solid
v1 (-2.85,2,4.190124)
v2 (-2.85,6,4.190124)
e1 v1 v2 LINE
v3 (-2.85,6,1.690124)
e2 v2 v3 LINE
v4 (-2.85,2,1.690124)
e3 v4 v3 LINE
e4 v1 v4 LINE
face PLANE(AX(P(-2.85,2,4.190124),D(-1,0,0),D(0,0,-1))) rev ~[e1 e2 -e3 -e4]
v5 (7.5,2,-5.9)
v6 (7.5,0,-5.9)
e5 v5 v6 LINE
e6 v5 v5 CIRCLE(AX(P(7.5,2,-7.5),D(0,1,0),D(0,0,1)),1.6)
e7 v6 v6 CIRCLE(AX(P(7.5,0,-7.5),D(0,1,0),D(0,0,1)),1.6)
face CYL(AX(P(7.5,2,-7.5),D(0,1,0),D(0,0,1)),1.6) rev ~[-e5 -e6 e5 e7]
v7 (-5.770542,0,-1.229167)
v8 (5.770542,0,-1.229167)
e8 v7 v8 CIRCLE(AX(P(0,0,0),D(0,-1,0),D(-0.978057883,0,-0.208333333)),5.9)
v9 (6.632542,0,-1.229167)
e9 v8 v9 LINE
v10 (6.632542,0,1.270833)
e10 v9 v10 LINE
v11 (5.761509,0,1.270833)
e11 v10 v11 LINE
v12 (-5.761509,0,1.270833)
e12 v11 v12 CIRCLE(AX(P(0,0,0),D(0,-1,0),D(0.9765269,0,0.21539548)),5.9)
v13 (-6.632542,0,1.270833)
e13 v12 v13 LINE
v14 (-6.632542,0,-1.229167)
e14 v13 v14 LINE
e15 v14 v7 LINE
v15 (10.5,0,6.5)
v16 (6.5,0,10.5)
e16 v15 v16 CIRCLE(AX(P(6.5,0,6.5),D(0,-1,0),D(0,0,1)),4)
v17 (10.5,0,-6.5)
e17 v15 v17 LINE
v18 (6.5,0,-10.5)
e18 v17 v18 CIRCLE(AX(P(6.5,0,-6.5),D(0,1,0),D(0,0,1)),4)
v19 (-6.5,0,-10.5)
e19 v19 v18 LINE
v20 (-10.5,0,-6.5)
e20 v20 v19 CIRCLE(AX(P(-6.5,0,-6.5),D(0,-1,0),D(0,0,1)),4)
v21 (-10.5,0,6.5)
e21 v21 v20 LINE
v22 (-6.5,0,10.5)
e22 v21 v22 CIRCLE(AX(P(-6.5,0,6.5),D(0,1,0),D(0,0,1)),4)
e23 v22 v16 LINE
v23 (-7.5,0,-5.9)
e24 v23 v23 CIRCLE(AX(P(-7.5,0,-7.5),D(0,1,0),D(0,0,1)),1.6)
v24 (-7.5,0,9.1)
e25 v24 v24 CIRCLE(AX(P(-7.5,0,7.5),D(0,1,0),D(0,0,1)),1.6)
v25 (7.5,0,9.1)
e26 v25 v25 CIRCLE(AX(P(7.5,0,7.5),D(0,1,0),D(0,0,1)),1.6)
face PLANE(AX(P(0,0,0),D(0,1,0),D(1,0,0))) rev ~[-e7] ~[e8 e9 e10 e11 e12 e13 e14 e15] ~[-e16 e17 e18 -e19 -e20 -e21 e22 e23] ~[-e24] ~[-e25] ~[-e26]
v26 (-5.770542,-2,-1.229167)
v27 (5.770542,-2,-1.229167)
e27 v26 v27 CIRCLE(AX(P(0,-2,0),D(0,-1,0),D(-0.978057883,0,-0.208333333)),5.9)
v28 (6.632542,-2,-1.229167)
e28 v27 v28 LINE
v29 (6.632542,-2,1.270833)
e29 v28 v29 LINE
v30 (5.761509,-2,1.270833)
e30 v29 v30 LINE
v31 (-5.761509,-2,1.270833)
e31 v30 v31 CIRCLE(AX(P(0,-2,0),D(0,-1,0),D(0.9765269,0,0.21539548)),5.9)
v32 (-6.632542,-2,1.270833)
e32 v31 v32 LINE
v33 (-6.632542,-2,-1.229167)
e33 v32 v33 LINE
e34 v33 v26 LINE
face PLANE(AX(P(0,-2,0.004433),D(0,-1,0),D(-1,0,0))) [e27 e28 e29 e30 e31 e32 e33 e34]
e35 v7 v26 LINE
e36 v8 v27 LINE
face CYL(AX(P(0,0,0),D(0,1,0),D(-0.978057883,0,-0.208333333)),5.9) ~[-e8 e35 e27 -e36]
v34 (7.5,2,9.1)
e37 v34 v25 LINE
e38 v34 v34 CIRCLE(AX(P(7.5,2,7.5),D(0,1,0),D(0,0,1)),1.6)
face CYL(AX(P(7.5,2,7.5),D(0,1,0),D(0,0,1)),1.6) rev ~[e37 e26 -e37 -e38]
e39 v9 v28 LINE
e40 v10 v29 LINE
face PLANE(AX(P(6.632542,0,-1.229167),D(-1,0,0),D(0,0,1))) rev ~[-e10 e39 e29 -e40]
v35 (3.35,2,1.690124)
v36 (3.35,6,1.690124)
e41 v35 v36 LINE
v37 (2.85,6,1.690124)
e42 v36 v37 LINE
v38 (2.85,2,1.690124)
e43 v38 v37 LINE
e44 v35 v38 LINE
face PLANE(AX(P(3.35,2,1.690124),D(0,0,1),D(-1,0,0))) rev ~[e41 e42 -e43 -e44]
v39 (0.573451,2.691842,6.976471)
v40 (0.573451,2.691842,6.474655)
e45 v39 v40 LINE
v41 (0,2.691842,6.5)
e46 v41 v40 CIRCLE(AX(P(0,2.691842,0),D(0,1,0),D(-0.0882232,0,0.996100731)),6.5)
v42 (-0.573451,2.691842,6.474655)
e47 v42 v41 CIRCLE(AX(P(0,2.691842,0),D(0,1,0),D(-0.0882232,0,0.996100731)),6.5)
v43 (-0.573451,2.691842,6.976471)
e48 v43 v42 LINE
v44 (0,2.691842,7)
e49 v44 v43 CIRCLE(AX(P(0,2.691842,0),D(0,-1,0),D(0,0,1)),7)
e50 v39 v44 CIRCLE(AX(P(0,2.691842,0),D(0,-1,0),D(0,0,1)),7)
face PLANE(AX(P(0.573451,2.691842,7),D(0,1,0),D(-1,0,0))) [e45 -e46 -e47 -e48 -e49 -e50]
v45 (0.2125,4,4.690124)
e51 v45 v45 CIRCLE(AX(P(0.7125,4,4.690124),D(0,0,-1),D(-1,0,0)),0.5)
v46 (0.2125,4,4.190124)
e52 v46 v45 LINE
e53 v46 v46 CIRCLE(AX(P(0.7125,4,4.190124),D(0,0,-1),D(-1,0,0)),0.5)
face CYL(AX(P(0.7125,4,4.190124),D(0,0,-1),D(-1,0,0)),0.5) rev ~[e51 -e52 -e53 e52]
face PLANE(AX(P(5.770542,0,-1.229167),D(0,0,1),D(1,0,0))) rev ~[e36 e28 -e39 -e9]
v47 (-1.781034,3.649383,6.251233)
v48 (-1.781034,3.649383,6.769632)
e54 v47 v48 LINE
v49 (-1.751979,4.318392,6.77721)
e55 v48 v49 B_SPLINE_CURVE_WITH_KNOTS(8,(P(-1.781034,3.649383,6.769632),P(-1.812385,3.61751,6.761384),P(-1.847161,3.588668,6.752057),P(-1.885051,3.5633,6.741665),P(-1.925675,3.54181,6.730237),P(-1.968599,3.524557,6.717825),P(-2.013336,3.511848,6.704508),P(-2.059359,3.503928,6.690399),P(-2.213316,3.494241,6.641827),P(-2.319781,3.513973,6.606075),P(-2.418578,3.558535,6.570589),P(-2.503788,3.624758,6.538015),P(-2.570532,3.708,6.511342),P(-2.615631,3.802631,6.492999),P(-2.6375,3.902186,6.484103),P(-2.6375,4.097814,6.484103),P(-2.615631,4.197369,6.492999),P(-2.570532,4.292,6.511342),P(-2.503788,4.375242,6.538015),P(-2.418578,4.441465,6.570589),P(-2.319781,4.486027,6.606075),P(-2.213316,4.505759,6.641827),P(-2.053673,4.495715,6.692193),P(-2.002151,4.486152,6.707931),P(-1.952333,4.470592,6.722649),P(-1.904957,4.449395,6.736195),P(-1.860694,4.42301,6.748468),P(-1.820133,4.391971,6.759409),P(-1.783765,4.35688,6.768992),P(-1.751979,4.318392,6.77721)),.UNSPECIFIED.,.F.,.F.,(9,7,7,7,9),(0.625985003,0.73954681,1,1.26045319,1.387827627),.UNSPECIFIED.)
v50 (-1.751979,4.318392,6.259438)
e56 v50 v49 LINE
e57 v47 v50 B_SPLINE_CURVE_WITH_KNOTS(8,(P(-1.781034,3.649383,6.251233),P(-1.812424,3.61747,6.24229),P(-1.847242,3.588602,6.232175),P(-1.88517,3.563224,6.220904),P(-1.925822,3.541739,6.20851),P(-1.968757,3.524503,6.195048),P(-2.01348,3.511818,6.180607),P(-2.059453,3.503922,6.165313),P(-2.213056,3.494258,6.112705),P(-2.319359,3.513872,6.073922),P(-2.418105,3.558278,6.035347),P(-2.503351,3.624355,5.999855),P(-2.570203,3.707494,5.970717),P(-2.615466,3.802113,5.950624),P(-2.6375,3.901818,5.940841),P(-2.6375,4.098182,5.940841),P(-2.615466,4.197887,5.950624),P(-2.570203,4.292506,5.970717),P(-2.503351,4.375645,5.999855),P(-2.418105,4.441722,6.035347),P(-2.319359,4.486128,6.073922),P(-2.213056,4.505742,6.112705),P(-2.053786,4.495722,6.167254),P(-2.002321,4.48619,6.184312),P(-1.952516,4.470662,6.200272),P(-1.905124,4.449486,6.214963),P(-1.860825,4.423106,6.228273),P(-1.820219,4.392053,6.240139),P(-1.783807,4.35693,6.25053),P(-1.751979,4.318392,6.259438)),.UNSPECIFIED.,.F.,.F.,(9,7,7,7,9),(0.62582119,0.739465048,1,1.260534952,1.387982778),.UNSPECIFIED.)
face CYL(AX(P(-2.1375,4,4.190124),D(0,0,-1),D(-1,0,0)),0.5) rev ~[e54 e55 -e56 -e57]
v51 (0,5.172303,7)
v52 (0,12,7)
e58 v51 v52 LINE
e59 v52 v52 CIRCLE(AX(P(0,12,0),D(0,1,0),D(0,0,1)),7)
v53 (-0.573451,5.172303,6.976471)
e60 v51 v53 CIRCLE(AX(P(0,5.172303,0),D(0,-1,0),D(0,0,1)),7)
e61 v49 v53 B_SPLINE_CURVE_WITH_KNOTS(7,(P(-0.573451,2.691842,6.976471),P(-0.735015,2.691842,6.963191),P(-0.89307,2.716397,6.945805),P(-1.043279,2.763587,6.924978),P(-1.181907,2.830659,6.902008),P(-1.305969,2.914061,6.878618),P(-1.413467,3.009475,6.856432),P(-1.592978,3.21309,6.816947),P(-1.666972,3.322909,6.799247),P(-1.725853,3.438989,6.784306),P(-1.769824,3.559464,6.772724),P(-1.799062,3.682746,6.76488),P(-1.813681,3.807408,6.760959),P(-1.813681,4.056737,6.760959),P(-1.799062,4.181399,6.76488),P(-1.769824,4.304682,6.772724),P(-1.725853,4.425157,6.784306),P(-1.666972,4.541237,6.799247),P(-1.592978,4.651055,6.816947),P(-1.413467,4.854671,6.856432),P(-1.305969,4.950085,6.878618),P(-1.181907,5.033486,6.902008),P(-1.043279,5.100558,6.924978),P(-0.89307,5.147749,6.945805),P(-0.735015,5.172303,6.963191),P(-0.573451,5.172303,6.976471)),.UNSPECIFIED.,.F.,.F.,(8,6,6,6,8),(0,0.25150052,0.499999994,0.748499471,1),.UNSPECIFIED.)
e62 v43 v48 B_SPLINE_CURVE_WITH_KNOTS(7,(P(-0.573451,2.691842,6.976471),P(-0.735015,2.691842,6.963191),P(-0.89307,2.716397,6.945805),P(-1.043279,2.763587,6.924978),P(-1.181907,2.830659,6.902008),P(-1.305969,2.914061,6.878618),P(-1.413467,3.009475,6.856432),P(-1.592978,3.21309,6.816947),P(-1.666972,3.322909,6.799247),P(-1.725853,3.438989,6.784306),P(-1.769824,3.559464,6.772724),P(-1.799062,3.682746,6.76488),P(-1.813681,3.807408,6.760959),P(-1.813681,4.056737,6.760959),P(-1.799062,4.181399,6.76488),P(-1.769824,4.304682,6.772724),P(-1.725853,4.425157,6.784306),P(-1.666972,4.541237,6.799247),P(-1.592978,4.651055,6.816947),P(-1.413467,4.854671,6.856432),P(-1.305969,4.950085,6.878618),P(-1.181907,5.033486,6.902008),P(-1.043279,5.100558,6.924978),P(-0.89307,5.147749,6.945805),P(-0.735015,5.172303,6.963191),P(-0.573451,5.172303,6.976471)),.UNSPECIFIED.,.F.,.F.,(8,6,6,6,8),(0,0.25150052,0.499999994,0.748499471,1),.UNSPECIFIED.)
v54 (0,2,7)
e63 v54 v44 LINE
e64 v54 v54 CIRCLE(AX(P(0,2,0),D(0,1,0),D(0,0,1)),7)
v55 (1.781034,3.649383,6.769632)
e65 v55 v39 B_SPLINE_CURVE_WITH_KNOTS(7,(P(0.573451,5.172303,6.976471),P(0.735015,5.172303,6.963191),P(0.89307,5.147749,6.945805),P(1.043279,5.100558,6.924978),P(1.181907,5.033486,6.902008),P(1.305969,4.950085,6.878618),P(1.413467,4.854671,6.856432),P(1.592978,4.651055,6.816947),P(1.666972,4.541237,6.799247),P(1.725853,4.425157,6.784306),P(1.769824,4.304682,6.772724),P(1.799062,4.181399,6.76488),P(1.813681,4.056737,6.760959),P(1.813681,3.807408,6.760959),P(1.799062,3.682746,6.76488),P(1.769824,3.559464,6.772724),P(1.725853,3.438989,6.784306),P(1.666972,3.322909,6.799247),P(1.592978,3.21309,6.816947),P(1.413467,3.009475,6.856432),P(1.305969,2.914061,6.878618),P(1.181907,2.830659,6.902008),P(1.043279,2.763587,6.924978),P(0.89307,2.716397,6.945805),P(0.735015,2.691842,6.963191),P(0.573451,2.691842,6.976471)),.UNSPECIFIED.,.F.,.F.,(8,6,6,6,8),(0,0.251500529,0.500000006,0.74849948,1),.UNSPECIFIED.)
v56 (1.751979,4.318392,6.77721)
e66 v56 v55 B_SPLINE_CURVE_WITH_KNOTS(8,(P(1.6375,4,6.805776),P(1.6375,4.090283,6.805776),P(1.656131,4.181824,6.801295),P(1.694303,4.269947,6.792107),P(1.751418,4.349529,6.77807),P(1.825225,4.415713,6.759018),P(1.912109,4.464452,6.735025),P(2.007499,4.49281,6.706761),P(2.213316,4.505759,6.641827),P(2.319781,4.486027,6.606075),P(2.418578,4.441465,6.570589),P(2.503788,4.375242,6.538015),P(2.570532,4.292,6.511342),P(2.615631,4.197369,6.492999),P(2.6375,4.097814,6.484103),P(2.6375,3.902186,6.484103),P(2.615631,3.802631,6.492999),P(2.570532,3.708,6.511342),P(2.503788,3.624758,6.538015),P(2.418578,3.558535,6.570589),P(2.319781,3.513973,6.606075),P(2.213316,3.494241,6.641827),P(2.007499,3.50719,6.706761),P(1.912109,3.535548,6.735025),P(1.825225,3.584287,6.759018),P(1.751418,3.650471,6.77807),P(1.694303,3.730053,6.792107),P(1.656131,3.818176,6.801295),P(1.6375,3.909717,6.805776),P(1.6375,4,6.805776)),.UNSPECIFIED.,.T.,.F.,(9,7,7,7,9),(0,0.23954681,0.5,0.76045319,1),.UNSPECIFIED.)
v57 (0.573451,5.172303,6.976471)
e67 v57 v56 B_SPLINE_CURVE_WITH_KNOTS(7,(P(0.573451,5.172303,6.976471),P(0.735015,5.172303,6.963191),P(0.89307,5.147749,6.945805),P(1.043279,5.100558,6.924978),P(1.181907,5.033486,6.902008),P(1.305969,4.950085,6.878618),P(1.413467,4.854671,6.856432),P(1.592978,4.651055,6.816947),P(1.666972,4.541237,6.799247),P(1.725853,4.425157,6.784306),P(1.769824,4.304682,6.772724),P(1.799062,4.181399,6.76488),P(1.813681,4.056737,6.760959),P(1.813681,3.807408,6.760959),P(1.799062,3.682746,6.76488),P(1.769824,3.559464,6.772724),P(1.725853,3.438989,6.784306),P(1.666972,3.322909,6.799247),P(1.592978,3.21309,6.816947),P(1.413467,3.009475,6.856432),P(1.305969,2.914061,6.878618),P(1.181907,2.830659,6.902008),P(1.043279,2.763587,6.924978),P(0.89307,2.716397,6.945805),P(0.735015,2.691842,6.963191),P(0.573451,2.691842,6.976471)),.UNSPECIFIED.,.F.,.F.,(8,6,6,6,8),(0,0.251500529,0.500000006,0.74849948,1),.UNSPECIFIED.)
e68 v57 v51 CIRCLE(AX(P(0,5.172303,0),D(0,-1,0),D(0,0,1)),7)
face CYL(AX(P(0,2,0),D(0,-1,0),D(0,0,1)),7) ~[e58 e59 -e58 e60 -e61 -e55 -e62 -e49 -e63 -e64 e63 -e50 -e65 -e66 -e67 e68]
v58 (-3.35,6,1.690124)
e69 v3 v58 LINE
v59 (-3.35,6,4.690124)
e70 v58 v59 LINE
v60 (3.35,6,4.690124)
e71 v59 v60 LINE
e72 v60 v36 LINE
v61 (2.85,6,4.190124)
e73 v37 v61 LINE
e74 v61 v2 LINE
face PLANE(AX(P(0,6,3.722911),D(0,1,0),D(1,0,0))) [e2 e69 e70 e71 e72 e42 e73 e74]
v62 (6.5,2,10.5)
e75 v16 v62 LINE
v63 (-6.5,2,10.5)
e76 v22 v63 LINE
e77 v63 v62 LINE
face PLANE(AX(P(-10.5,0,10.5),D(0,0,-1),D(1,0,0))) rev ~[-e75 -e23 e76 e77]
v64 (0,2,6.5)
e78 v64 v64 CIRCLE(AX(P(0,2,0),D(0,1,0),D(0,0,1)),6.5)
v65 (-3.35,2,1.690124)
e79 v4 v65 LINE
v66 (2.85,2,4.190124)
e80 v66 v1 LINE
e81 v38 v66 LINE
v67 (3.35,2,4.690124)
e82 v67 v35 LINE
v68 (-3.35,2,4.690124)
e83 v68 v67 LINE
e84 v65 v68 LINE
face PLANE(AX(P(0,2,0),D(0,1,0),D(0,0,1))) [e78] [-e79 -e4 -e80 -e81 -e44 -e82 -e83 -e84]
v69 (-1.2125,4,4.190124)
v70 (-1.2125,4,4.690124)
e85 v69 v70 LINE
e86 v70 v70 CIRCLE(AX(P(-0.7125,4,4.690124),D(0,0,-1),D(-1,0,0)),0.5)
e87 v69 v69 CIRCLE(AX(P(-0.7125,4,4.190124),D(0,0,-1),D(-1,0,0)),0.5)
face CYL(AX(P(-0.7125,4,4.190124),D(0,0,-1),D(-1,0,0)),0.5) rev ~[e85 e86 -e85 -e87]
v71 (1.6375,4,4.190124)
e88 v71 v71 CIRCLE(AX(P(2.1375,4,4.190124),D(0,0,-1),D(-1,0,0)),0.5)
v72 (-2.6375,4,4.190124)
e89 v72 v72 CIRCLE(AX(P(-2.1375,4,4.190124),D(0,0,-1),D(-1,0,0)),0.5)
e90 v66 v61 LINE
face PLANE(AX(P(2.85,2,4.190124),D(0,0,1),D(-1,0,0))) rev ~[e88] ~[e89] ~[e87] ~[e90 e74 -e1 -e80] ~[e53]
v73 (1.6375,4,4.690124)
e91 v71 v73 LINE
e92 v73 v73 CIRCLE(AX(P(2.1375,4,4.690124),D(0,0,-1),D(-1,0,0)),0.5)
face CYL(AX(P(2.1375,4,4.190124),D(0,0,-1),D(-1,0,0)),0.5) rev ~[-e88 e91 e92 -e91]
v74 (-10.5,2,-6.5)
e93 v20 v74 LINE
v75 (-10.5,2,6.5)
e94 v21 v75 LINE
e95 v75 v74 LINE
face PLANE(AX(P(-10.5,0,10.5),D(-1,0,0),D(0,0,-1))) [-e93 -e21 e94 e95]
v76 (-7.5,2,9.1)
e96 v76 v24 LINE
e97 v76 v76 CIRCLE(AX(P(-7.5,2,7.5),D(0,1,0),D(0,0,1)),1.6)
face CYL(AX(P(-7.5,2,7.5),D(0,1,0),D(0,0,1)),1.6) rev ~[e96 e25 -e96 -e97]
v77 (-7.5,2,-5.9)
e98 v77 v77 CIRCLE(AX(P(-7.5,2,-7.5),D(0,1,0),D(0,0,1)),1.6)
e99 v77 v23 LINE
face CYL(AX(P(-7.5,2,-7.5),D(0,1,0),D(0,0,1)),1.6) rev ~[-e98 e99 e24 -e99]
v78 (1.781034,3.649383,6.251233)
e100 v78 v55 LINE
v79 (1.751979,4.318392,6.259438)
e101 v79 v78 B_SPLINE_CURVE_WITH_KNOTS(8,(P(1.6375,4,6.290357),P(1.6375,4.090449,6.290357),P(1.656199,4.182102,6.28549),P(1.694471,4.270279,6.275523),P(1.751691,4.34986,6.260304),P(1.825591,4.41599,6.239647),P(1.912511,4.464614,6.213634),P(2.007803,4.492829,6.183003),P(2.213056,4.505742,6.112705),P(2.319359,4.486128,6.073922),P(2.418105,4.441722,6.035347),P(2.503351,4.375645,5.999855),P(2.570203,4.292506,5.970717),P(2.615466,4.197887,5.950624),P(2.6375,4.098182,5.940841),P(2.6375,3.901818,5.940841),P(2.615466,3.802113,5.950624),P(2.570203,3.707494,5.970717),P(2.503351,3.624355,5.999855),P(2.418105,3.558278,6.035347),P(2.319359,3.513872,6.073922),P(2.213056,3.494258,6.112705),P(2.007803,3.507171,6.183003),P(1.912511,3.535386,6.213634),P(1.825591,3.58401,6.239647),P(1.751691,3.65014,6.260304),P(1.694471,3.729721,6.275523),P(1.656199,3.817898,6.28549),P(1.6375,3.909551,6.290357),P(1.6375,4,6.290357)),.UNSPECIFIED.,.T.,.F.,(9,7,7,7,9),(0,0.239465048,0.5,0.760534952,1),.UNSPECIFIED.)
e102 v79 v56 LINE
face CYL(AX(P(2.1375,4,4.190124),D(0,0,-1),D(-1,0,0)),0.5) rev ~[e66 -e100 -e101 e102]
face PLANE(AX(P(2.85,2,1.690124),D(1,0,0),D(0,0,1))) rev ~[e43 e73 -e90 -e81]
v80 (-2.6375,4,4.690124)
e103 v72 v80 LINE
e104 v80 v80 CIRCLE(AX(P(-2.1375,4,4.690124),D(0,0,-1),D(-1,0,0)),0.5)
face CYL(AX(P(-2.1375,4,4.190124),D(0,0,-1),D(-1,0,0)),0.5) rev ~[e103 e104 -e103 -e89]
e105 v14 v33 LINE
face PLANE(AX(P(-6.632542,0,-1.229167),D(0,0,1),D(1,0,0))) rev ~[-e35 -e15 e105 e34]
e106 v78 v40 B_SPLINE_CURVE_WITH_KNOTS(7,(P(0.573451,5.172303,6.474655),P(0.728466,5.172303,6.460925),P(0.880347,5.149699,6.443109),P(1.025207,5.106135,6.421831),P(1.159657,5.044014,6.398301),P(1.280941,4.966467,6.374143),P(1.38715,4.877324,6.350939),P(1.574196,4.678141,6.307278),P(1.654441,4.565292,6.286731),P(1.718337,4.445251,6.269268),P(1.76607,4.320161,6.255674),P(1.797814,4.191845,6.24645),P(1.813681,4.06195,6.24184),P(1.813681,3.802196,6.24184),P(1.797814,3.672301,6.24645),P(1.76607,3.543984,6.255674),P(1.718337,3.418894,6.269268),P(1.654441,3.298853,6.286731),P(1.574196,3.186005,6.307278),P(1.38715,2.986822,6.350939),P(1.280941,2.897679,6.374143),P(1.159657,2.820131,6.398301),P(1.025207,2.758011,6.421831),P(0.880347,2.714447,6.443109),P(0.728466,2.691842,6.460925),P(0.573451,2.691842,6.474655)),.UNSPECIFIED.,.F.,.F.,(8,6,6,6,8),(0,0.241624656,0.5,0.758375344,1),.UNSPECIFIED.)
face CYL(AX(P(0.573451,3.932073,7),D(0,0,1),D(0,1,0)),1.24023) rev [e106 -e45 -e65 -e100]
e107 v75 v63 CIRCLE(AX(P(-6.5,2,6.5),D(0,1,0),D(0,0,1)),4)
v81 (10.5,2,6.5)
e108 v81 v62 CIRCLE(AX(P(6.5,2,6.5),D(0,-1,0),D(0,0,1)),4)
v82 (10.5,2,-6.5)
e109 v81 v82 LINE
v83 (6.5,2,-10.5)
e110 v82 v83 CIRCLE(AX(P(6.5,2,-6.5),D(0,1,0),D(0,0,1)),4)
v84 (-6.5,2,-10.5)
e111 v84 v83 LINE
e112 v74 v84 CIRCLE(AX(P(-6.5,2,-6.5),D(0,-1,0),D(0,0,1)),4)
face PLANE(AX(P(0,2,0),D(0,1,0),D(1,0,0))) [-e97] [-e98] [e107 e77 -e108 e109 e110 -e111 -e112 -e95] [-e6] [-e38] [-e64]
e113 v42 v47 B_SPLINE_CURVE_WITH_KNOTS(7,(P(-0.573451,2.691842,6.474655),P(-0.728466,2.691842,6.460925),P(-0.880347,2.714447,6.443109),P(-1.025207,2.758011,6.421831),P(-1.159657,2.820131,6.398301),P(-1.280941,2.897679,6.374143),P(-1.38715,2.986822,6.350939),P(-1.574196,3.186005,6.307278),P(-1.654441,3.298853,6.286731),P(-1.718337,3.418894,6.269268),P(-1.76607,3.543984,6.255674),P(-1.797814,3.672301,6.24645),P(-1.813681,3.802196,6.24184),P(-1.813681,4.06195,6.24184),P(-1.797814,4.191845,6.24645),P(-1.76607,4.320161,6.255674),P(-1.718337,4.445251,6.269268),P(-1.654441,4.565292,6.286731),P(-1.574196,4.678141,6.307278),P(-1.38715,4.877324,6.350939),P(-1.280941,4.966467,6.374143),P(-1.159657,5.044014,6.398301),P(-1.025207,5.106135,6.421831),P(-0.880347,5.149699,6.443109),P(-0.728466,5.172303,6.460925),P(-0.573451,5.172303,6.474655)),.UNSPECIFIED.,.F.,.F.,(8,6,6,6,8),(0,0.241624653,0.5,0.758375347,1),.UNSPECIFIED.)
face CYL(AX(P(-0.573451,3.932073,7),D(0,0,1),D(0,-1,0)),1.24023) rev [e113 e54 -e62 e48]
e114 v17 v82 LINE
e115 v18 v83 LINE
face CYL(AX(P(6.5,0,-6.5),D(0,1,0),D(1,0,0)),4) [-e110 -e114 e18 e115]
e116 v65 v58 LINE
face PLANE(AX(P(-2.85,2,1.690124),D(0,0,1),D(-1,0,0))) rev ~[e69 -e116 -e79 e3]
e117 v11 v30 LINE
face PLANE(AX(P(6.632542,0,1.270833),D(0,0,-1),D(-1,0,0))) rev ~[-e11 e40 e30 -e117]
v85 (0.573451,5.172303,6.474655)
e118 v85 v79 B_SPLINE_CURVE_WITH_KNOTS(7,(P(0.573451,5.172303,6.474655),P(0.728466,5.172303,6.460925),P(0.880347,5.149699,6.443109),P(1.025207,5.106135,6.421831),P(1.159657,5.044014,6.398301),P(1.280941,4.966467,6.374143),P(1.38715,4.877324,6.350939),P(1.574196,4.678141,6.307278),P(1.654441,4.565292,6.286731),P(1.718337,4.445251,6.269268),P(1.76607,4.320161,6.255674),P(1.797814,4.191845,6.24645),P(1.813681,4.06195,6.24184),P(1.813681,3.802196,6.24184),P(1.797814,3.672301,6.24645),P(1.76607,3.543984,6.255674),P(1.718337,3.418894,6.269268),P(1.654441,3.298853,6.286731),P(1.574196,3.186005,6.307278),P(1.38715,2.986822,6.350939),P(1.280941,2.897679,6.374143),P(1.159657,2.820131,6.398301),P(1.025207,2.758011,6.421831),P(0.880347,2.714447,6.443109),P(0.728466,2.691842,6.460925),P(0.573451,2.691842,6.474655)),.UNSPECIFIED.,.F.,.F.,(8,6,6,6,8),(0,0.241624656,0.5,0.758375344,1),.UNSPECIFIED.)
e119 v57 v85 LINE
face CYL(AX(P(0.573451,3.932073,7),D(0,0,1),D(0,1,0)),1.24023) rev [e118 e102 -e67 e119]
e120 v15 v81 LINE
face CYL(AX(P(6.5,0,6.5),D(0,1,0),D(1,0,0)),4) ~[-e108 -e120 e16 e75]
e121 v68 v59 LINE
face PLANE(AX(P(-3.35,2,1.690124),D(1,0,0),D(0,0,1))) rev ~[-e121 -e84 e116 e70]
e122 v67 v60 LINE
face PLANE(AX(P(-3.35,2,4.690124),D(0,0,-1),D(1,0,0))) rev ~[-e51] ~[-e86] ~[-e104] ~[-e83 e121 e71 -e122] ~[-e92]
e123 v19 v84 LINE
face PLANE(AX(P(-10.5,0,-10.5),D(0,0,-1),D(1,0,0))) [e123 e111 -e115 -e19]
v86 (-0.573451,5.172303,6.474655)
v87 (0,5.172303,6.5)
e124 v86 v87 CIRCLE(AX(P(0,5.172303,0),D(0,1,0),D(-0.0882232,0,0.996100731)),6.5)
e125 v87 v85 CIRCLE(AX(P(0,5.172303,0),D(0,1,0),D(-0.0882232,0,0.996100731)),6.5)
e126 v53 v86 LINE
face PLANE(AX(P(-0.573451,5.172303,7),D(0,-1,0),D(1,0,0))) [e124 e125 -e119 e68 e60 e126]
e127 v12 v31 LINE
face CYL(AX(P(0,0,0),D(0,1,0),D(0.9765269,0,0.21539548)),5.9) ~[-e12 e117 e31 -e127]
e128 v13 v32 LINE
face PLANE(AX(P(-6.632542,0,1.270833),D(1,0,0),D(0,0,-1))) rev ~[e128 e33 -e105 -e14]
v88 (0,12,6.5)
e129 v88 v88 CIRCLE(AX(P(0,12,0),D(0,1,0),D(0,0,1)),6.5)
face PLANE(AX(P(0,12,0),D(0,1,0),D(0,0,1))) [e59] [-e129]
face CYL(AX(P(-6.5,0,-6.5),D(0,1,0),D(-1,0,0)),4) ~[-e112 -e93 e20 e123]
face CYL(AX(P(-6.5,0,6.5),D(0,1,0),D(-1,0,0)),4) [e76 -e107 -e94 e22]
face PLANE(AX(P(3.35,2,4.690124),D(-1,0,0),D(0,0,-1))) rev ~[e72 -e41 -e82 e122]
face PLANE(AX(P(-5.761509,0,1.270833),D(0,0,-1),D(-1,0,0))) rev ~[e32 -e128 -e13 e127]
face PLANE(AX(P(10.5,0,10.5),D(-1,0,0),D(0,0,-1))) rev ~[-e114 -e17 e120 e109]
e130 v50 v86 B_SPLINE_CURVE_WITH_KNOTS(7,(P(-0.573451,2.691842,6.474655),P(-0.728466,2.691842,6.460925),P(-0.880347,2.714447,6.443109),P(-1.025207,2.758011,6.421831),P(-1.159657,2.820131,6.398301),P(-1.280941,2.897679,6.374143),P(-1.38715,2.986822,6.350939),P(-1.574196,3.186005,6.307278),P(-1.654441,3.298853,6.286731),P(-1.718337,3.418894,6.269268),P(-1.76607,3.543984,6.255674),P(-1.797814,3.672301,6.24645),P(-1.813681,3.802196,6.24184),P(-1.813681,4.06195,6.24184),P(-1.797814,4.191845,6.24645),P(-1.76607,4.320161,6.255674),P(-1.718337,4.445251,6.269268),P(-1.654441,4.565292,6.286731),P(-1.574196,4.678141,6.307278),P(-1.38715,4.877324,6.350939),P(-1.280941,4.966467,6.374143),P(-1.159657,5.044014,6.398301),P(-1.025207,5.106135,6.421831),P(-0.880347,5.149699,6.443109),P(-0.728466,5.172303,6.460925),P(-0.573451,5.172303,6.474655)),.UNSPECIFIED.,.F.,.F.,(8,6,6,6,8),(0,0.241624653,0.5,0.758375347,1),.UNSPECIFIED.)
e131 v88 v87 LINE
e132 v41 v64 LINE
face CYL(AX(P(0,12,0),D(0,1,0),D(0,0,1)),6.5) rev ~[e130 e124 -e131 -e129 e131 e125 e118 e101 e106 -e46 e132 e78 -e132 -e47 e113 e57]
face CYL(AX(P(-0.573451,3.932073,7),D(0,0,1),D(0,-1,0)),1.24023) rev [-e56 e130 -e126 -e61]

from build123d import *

# Parameters (mm, degrees)
SKETCH1_W               = 21
SKETCH1_H               = 21
BOSS_EXTRUDE1_DEPTH     = 2
BOSS_EXTRUDE2_START     = -2
BOSS_EXTRUDE2_DEPTH     = 2
SKETCH3_R               = 1.6
CUT_EXTRUDE1_DEPTH      = 16.378556499
SKETCH5_R               = 7
BOSS_EXTRUDE3_DEPTH     = 10
SKETCH6_R               = 6.5
CUT_EXTRUDE2_DEPTH      = 10
CUT_EXTRUDE3_REACH      = 25.675
CUT_EXTRUDE3_END_RADIUS = 6.5
BOSS_EXTRUDE4_DEPTH     = 4
SKETCH14_R              = 0.5
CUT_EXTRUDE4_DEPTH      = 10
FILLET1_R               = 4


with BuildPart() as part:
    # Sketch1 → Boss-Extrude1 (new body)
    with BuildSketch(Plane(origin=(0, 0, 0), x_dir=(1, 0, 0), z_dir=(0, 1, 0))):
        Rectangle(SKETCH1_W, SKETCH1_H)
    extrude(amount=BOSS_EXTRUDE1_DEPTH)

    # Sketch4 → Boss-Extrude2 (add)
    with BuildSketch(Plane(origin=(0, 2, 0), x_dir=(1, 0, 0), z_dir=(0, 1, 0)).offset(BOSS_EXTRUDE2_START)):
        with BuildLine():
            Line((-5.761508712, -1.270833333), (-6.632541509, -1.270833333))
            Line((-6.632541509, -1.270833333), (-6.632541509, 1.229166667))
            Line((-6.632541509, 1.229166667), (-5.770541509, 1.229166667))
            ThreePointArc((-5.770541509, 1.229166667), (0, 5.9), (5.770541509, 1.229166667))
            Line((5.770541509, 1.229166667), (6.632541509, 1.229166667))
            Line((6.632541509, 1.229166667), (6.632541509, -1.270833333))
            Line((6.632541509, -1.270833333), (5.761508712, -1.270833333))
            ThreePointArc((5.761508712, -1.270833333), (0, -5.9), (-5.761508712, -1.270833333))
        make_face()
    extrude(amount=-BOSS_EXTRUDE2_DEPTH)

    # Sketch3 → Cut-Extrude1 (cut, through all)
    with BuildSketch(Plane(origin=(0, 2, 0), x_dir=(1, 0, 0), z_dir=(0, 1, 0))):
        with Locations(Location((-7.5, 7.5, 0), (0, 0, 270))):
            Circle(SKETCH3_R)
        with Locations(Location((7.5, 7.5, 0), (0, 0, 270))):
            Circle(SKETCH3_R)
        with Locations(Location((7.5, -7.5, 0), (0, 0, 270))):
            Circle(SKETCH3_R)
        with Locations(Location((-7.5, -7.5, 0), (0, 0, 270))):
            Circle(SKETCH3_R)
    extrude(amount=-CUT_EXTRUDE1_DEPTH, mode=Mode.SUBTRACT)

    # Sketch5 → Boss-Extrude3 (add)
    with BuildSketch(Plane(origin=(0, 2, 0), x_dir=(1, 0, 0), z_dir=(0, 1, 0))):
        with Locations(Location((0, 0, 0), (0, 0, 270))):
            Circle(SKETCH5_R)
    extrude(amount=BOSS_EXTRUDE3_DEPTH)

    # Sketch6 → Cut-Extrude2 (cut)
    with BuildSketch(Plane(origin=(0, 12, 0), x_dir=(1, 0, 0), z_dir=(0, 1, 0))):
        with Locations(Location((0, 0, 0), (0, 0, 270))):
            Circle(SKETCH6_R)
    extrude(amount=-CUT_EXTRUDE2_DEPTH, mode=Mode.SUBTRACT)

    # Cut-Extrude3: up to this cylinder (the profile starts outside it)
    cut_extrude3_end = Plane(origin=(0, 3.932073, 0), z_dir=(0, 1, 0)) * Cylinder(CUT_EXTRUDE3_END_RADIUS, 65.35, mode=Mode.PRIVATE)
    # Sketch12 → Cut-Extrude3 (cut, up to the surface)
    with BuildSketch(Plane.XY.offset(7), mode=Mode.PRIVATE) as cut_extrude3_sk1:
        with BuildLine():
            Line((0.5734508, 2.691842334), (-0.5734508, 2.691842334))
            ThreePointArc((-0.5734508, 2.691842334), (-1.813681206, 3.93207274), (-0.5734508, 5.172303147))
            Line((-0.5734508, 5.172303147), (0.5734508, 5.172303147))
            ThreePointArc((0.5734508, 5.172303147), (1.813681206, 3.93207274), (0.5734508, 2.691842334))
        make_face()
    cut_extrude3_tool1 = extrude(cut_extrude3_sk1.sketch, amount=-CUT_EXTRUDE3_REACH, mode=Mode.PRIVATE) - cut_extrude3_end
    add(cut_extrude3_tool1.solids().sort_by_distance((0, 3.932073, 7))[0], mode=Mode.SUBTRACT)

    # Sketch13 → Boss-Extrude4 (add)
    with BuildSketch(Plane(origin=(0, 2, 0), x_dir=(1, 0, 0), z_dir=(0, 1, 0))):
        Polygon((-2.85, -4.69012427), (2.85, -4.69012427), (3.35, -4.69012427), (3.35, -1.69012427), (2.85, -1.69012427), (2.85, -4.19012427), (-2.85, -4.19012427), (-2.85, -1.69012427), (-3.35, -1.69012427), (-3.35, -4.69012427), align=None)
    extrude(amount=BOSS_EXTRUDE4_DEPTH)

    # Sketch14 → Cut-Extrude4 (cut)
    with BuildSketch(Plane(origin=(0, 0, 4.19012427), x_dir=(-1, 0, 0), z_dir=(0, 0, -1))):
        with Locations((-2.1375, 4)):
            Circle(SKETCH14_R)
        with Locations((-0.7125, 4)):
            Circle(SKETCH14_R)
        with Locations((0.7125, 4)):
            Circle(SKETCH14_R)
        with Locations((2.1375, 4)):
            Circle(SKETCH14_R)
    extrude(amount=-CUT_EXTRUDE4_DEPTH, mode=Mode.SUBTRACT)

    # Fillet1
    fillet1_edges = [part.edges().sort_by_distance(p)[0] for p in [
        (-10.5, 1, -10.5),
        (10.5, 1, -10.5),
        (10.5, 1, 10.5),
        (-10.5, 1, 10.5),
    ]]
    fillet(fillet1_edges, radius=FILLET1_R)


solid = part.part
